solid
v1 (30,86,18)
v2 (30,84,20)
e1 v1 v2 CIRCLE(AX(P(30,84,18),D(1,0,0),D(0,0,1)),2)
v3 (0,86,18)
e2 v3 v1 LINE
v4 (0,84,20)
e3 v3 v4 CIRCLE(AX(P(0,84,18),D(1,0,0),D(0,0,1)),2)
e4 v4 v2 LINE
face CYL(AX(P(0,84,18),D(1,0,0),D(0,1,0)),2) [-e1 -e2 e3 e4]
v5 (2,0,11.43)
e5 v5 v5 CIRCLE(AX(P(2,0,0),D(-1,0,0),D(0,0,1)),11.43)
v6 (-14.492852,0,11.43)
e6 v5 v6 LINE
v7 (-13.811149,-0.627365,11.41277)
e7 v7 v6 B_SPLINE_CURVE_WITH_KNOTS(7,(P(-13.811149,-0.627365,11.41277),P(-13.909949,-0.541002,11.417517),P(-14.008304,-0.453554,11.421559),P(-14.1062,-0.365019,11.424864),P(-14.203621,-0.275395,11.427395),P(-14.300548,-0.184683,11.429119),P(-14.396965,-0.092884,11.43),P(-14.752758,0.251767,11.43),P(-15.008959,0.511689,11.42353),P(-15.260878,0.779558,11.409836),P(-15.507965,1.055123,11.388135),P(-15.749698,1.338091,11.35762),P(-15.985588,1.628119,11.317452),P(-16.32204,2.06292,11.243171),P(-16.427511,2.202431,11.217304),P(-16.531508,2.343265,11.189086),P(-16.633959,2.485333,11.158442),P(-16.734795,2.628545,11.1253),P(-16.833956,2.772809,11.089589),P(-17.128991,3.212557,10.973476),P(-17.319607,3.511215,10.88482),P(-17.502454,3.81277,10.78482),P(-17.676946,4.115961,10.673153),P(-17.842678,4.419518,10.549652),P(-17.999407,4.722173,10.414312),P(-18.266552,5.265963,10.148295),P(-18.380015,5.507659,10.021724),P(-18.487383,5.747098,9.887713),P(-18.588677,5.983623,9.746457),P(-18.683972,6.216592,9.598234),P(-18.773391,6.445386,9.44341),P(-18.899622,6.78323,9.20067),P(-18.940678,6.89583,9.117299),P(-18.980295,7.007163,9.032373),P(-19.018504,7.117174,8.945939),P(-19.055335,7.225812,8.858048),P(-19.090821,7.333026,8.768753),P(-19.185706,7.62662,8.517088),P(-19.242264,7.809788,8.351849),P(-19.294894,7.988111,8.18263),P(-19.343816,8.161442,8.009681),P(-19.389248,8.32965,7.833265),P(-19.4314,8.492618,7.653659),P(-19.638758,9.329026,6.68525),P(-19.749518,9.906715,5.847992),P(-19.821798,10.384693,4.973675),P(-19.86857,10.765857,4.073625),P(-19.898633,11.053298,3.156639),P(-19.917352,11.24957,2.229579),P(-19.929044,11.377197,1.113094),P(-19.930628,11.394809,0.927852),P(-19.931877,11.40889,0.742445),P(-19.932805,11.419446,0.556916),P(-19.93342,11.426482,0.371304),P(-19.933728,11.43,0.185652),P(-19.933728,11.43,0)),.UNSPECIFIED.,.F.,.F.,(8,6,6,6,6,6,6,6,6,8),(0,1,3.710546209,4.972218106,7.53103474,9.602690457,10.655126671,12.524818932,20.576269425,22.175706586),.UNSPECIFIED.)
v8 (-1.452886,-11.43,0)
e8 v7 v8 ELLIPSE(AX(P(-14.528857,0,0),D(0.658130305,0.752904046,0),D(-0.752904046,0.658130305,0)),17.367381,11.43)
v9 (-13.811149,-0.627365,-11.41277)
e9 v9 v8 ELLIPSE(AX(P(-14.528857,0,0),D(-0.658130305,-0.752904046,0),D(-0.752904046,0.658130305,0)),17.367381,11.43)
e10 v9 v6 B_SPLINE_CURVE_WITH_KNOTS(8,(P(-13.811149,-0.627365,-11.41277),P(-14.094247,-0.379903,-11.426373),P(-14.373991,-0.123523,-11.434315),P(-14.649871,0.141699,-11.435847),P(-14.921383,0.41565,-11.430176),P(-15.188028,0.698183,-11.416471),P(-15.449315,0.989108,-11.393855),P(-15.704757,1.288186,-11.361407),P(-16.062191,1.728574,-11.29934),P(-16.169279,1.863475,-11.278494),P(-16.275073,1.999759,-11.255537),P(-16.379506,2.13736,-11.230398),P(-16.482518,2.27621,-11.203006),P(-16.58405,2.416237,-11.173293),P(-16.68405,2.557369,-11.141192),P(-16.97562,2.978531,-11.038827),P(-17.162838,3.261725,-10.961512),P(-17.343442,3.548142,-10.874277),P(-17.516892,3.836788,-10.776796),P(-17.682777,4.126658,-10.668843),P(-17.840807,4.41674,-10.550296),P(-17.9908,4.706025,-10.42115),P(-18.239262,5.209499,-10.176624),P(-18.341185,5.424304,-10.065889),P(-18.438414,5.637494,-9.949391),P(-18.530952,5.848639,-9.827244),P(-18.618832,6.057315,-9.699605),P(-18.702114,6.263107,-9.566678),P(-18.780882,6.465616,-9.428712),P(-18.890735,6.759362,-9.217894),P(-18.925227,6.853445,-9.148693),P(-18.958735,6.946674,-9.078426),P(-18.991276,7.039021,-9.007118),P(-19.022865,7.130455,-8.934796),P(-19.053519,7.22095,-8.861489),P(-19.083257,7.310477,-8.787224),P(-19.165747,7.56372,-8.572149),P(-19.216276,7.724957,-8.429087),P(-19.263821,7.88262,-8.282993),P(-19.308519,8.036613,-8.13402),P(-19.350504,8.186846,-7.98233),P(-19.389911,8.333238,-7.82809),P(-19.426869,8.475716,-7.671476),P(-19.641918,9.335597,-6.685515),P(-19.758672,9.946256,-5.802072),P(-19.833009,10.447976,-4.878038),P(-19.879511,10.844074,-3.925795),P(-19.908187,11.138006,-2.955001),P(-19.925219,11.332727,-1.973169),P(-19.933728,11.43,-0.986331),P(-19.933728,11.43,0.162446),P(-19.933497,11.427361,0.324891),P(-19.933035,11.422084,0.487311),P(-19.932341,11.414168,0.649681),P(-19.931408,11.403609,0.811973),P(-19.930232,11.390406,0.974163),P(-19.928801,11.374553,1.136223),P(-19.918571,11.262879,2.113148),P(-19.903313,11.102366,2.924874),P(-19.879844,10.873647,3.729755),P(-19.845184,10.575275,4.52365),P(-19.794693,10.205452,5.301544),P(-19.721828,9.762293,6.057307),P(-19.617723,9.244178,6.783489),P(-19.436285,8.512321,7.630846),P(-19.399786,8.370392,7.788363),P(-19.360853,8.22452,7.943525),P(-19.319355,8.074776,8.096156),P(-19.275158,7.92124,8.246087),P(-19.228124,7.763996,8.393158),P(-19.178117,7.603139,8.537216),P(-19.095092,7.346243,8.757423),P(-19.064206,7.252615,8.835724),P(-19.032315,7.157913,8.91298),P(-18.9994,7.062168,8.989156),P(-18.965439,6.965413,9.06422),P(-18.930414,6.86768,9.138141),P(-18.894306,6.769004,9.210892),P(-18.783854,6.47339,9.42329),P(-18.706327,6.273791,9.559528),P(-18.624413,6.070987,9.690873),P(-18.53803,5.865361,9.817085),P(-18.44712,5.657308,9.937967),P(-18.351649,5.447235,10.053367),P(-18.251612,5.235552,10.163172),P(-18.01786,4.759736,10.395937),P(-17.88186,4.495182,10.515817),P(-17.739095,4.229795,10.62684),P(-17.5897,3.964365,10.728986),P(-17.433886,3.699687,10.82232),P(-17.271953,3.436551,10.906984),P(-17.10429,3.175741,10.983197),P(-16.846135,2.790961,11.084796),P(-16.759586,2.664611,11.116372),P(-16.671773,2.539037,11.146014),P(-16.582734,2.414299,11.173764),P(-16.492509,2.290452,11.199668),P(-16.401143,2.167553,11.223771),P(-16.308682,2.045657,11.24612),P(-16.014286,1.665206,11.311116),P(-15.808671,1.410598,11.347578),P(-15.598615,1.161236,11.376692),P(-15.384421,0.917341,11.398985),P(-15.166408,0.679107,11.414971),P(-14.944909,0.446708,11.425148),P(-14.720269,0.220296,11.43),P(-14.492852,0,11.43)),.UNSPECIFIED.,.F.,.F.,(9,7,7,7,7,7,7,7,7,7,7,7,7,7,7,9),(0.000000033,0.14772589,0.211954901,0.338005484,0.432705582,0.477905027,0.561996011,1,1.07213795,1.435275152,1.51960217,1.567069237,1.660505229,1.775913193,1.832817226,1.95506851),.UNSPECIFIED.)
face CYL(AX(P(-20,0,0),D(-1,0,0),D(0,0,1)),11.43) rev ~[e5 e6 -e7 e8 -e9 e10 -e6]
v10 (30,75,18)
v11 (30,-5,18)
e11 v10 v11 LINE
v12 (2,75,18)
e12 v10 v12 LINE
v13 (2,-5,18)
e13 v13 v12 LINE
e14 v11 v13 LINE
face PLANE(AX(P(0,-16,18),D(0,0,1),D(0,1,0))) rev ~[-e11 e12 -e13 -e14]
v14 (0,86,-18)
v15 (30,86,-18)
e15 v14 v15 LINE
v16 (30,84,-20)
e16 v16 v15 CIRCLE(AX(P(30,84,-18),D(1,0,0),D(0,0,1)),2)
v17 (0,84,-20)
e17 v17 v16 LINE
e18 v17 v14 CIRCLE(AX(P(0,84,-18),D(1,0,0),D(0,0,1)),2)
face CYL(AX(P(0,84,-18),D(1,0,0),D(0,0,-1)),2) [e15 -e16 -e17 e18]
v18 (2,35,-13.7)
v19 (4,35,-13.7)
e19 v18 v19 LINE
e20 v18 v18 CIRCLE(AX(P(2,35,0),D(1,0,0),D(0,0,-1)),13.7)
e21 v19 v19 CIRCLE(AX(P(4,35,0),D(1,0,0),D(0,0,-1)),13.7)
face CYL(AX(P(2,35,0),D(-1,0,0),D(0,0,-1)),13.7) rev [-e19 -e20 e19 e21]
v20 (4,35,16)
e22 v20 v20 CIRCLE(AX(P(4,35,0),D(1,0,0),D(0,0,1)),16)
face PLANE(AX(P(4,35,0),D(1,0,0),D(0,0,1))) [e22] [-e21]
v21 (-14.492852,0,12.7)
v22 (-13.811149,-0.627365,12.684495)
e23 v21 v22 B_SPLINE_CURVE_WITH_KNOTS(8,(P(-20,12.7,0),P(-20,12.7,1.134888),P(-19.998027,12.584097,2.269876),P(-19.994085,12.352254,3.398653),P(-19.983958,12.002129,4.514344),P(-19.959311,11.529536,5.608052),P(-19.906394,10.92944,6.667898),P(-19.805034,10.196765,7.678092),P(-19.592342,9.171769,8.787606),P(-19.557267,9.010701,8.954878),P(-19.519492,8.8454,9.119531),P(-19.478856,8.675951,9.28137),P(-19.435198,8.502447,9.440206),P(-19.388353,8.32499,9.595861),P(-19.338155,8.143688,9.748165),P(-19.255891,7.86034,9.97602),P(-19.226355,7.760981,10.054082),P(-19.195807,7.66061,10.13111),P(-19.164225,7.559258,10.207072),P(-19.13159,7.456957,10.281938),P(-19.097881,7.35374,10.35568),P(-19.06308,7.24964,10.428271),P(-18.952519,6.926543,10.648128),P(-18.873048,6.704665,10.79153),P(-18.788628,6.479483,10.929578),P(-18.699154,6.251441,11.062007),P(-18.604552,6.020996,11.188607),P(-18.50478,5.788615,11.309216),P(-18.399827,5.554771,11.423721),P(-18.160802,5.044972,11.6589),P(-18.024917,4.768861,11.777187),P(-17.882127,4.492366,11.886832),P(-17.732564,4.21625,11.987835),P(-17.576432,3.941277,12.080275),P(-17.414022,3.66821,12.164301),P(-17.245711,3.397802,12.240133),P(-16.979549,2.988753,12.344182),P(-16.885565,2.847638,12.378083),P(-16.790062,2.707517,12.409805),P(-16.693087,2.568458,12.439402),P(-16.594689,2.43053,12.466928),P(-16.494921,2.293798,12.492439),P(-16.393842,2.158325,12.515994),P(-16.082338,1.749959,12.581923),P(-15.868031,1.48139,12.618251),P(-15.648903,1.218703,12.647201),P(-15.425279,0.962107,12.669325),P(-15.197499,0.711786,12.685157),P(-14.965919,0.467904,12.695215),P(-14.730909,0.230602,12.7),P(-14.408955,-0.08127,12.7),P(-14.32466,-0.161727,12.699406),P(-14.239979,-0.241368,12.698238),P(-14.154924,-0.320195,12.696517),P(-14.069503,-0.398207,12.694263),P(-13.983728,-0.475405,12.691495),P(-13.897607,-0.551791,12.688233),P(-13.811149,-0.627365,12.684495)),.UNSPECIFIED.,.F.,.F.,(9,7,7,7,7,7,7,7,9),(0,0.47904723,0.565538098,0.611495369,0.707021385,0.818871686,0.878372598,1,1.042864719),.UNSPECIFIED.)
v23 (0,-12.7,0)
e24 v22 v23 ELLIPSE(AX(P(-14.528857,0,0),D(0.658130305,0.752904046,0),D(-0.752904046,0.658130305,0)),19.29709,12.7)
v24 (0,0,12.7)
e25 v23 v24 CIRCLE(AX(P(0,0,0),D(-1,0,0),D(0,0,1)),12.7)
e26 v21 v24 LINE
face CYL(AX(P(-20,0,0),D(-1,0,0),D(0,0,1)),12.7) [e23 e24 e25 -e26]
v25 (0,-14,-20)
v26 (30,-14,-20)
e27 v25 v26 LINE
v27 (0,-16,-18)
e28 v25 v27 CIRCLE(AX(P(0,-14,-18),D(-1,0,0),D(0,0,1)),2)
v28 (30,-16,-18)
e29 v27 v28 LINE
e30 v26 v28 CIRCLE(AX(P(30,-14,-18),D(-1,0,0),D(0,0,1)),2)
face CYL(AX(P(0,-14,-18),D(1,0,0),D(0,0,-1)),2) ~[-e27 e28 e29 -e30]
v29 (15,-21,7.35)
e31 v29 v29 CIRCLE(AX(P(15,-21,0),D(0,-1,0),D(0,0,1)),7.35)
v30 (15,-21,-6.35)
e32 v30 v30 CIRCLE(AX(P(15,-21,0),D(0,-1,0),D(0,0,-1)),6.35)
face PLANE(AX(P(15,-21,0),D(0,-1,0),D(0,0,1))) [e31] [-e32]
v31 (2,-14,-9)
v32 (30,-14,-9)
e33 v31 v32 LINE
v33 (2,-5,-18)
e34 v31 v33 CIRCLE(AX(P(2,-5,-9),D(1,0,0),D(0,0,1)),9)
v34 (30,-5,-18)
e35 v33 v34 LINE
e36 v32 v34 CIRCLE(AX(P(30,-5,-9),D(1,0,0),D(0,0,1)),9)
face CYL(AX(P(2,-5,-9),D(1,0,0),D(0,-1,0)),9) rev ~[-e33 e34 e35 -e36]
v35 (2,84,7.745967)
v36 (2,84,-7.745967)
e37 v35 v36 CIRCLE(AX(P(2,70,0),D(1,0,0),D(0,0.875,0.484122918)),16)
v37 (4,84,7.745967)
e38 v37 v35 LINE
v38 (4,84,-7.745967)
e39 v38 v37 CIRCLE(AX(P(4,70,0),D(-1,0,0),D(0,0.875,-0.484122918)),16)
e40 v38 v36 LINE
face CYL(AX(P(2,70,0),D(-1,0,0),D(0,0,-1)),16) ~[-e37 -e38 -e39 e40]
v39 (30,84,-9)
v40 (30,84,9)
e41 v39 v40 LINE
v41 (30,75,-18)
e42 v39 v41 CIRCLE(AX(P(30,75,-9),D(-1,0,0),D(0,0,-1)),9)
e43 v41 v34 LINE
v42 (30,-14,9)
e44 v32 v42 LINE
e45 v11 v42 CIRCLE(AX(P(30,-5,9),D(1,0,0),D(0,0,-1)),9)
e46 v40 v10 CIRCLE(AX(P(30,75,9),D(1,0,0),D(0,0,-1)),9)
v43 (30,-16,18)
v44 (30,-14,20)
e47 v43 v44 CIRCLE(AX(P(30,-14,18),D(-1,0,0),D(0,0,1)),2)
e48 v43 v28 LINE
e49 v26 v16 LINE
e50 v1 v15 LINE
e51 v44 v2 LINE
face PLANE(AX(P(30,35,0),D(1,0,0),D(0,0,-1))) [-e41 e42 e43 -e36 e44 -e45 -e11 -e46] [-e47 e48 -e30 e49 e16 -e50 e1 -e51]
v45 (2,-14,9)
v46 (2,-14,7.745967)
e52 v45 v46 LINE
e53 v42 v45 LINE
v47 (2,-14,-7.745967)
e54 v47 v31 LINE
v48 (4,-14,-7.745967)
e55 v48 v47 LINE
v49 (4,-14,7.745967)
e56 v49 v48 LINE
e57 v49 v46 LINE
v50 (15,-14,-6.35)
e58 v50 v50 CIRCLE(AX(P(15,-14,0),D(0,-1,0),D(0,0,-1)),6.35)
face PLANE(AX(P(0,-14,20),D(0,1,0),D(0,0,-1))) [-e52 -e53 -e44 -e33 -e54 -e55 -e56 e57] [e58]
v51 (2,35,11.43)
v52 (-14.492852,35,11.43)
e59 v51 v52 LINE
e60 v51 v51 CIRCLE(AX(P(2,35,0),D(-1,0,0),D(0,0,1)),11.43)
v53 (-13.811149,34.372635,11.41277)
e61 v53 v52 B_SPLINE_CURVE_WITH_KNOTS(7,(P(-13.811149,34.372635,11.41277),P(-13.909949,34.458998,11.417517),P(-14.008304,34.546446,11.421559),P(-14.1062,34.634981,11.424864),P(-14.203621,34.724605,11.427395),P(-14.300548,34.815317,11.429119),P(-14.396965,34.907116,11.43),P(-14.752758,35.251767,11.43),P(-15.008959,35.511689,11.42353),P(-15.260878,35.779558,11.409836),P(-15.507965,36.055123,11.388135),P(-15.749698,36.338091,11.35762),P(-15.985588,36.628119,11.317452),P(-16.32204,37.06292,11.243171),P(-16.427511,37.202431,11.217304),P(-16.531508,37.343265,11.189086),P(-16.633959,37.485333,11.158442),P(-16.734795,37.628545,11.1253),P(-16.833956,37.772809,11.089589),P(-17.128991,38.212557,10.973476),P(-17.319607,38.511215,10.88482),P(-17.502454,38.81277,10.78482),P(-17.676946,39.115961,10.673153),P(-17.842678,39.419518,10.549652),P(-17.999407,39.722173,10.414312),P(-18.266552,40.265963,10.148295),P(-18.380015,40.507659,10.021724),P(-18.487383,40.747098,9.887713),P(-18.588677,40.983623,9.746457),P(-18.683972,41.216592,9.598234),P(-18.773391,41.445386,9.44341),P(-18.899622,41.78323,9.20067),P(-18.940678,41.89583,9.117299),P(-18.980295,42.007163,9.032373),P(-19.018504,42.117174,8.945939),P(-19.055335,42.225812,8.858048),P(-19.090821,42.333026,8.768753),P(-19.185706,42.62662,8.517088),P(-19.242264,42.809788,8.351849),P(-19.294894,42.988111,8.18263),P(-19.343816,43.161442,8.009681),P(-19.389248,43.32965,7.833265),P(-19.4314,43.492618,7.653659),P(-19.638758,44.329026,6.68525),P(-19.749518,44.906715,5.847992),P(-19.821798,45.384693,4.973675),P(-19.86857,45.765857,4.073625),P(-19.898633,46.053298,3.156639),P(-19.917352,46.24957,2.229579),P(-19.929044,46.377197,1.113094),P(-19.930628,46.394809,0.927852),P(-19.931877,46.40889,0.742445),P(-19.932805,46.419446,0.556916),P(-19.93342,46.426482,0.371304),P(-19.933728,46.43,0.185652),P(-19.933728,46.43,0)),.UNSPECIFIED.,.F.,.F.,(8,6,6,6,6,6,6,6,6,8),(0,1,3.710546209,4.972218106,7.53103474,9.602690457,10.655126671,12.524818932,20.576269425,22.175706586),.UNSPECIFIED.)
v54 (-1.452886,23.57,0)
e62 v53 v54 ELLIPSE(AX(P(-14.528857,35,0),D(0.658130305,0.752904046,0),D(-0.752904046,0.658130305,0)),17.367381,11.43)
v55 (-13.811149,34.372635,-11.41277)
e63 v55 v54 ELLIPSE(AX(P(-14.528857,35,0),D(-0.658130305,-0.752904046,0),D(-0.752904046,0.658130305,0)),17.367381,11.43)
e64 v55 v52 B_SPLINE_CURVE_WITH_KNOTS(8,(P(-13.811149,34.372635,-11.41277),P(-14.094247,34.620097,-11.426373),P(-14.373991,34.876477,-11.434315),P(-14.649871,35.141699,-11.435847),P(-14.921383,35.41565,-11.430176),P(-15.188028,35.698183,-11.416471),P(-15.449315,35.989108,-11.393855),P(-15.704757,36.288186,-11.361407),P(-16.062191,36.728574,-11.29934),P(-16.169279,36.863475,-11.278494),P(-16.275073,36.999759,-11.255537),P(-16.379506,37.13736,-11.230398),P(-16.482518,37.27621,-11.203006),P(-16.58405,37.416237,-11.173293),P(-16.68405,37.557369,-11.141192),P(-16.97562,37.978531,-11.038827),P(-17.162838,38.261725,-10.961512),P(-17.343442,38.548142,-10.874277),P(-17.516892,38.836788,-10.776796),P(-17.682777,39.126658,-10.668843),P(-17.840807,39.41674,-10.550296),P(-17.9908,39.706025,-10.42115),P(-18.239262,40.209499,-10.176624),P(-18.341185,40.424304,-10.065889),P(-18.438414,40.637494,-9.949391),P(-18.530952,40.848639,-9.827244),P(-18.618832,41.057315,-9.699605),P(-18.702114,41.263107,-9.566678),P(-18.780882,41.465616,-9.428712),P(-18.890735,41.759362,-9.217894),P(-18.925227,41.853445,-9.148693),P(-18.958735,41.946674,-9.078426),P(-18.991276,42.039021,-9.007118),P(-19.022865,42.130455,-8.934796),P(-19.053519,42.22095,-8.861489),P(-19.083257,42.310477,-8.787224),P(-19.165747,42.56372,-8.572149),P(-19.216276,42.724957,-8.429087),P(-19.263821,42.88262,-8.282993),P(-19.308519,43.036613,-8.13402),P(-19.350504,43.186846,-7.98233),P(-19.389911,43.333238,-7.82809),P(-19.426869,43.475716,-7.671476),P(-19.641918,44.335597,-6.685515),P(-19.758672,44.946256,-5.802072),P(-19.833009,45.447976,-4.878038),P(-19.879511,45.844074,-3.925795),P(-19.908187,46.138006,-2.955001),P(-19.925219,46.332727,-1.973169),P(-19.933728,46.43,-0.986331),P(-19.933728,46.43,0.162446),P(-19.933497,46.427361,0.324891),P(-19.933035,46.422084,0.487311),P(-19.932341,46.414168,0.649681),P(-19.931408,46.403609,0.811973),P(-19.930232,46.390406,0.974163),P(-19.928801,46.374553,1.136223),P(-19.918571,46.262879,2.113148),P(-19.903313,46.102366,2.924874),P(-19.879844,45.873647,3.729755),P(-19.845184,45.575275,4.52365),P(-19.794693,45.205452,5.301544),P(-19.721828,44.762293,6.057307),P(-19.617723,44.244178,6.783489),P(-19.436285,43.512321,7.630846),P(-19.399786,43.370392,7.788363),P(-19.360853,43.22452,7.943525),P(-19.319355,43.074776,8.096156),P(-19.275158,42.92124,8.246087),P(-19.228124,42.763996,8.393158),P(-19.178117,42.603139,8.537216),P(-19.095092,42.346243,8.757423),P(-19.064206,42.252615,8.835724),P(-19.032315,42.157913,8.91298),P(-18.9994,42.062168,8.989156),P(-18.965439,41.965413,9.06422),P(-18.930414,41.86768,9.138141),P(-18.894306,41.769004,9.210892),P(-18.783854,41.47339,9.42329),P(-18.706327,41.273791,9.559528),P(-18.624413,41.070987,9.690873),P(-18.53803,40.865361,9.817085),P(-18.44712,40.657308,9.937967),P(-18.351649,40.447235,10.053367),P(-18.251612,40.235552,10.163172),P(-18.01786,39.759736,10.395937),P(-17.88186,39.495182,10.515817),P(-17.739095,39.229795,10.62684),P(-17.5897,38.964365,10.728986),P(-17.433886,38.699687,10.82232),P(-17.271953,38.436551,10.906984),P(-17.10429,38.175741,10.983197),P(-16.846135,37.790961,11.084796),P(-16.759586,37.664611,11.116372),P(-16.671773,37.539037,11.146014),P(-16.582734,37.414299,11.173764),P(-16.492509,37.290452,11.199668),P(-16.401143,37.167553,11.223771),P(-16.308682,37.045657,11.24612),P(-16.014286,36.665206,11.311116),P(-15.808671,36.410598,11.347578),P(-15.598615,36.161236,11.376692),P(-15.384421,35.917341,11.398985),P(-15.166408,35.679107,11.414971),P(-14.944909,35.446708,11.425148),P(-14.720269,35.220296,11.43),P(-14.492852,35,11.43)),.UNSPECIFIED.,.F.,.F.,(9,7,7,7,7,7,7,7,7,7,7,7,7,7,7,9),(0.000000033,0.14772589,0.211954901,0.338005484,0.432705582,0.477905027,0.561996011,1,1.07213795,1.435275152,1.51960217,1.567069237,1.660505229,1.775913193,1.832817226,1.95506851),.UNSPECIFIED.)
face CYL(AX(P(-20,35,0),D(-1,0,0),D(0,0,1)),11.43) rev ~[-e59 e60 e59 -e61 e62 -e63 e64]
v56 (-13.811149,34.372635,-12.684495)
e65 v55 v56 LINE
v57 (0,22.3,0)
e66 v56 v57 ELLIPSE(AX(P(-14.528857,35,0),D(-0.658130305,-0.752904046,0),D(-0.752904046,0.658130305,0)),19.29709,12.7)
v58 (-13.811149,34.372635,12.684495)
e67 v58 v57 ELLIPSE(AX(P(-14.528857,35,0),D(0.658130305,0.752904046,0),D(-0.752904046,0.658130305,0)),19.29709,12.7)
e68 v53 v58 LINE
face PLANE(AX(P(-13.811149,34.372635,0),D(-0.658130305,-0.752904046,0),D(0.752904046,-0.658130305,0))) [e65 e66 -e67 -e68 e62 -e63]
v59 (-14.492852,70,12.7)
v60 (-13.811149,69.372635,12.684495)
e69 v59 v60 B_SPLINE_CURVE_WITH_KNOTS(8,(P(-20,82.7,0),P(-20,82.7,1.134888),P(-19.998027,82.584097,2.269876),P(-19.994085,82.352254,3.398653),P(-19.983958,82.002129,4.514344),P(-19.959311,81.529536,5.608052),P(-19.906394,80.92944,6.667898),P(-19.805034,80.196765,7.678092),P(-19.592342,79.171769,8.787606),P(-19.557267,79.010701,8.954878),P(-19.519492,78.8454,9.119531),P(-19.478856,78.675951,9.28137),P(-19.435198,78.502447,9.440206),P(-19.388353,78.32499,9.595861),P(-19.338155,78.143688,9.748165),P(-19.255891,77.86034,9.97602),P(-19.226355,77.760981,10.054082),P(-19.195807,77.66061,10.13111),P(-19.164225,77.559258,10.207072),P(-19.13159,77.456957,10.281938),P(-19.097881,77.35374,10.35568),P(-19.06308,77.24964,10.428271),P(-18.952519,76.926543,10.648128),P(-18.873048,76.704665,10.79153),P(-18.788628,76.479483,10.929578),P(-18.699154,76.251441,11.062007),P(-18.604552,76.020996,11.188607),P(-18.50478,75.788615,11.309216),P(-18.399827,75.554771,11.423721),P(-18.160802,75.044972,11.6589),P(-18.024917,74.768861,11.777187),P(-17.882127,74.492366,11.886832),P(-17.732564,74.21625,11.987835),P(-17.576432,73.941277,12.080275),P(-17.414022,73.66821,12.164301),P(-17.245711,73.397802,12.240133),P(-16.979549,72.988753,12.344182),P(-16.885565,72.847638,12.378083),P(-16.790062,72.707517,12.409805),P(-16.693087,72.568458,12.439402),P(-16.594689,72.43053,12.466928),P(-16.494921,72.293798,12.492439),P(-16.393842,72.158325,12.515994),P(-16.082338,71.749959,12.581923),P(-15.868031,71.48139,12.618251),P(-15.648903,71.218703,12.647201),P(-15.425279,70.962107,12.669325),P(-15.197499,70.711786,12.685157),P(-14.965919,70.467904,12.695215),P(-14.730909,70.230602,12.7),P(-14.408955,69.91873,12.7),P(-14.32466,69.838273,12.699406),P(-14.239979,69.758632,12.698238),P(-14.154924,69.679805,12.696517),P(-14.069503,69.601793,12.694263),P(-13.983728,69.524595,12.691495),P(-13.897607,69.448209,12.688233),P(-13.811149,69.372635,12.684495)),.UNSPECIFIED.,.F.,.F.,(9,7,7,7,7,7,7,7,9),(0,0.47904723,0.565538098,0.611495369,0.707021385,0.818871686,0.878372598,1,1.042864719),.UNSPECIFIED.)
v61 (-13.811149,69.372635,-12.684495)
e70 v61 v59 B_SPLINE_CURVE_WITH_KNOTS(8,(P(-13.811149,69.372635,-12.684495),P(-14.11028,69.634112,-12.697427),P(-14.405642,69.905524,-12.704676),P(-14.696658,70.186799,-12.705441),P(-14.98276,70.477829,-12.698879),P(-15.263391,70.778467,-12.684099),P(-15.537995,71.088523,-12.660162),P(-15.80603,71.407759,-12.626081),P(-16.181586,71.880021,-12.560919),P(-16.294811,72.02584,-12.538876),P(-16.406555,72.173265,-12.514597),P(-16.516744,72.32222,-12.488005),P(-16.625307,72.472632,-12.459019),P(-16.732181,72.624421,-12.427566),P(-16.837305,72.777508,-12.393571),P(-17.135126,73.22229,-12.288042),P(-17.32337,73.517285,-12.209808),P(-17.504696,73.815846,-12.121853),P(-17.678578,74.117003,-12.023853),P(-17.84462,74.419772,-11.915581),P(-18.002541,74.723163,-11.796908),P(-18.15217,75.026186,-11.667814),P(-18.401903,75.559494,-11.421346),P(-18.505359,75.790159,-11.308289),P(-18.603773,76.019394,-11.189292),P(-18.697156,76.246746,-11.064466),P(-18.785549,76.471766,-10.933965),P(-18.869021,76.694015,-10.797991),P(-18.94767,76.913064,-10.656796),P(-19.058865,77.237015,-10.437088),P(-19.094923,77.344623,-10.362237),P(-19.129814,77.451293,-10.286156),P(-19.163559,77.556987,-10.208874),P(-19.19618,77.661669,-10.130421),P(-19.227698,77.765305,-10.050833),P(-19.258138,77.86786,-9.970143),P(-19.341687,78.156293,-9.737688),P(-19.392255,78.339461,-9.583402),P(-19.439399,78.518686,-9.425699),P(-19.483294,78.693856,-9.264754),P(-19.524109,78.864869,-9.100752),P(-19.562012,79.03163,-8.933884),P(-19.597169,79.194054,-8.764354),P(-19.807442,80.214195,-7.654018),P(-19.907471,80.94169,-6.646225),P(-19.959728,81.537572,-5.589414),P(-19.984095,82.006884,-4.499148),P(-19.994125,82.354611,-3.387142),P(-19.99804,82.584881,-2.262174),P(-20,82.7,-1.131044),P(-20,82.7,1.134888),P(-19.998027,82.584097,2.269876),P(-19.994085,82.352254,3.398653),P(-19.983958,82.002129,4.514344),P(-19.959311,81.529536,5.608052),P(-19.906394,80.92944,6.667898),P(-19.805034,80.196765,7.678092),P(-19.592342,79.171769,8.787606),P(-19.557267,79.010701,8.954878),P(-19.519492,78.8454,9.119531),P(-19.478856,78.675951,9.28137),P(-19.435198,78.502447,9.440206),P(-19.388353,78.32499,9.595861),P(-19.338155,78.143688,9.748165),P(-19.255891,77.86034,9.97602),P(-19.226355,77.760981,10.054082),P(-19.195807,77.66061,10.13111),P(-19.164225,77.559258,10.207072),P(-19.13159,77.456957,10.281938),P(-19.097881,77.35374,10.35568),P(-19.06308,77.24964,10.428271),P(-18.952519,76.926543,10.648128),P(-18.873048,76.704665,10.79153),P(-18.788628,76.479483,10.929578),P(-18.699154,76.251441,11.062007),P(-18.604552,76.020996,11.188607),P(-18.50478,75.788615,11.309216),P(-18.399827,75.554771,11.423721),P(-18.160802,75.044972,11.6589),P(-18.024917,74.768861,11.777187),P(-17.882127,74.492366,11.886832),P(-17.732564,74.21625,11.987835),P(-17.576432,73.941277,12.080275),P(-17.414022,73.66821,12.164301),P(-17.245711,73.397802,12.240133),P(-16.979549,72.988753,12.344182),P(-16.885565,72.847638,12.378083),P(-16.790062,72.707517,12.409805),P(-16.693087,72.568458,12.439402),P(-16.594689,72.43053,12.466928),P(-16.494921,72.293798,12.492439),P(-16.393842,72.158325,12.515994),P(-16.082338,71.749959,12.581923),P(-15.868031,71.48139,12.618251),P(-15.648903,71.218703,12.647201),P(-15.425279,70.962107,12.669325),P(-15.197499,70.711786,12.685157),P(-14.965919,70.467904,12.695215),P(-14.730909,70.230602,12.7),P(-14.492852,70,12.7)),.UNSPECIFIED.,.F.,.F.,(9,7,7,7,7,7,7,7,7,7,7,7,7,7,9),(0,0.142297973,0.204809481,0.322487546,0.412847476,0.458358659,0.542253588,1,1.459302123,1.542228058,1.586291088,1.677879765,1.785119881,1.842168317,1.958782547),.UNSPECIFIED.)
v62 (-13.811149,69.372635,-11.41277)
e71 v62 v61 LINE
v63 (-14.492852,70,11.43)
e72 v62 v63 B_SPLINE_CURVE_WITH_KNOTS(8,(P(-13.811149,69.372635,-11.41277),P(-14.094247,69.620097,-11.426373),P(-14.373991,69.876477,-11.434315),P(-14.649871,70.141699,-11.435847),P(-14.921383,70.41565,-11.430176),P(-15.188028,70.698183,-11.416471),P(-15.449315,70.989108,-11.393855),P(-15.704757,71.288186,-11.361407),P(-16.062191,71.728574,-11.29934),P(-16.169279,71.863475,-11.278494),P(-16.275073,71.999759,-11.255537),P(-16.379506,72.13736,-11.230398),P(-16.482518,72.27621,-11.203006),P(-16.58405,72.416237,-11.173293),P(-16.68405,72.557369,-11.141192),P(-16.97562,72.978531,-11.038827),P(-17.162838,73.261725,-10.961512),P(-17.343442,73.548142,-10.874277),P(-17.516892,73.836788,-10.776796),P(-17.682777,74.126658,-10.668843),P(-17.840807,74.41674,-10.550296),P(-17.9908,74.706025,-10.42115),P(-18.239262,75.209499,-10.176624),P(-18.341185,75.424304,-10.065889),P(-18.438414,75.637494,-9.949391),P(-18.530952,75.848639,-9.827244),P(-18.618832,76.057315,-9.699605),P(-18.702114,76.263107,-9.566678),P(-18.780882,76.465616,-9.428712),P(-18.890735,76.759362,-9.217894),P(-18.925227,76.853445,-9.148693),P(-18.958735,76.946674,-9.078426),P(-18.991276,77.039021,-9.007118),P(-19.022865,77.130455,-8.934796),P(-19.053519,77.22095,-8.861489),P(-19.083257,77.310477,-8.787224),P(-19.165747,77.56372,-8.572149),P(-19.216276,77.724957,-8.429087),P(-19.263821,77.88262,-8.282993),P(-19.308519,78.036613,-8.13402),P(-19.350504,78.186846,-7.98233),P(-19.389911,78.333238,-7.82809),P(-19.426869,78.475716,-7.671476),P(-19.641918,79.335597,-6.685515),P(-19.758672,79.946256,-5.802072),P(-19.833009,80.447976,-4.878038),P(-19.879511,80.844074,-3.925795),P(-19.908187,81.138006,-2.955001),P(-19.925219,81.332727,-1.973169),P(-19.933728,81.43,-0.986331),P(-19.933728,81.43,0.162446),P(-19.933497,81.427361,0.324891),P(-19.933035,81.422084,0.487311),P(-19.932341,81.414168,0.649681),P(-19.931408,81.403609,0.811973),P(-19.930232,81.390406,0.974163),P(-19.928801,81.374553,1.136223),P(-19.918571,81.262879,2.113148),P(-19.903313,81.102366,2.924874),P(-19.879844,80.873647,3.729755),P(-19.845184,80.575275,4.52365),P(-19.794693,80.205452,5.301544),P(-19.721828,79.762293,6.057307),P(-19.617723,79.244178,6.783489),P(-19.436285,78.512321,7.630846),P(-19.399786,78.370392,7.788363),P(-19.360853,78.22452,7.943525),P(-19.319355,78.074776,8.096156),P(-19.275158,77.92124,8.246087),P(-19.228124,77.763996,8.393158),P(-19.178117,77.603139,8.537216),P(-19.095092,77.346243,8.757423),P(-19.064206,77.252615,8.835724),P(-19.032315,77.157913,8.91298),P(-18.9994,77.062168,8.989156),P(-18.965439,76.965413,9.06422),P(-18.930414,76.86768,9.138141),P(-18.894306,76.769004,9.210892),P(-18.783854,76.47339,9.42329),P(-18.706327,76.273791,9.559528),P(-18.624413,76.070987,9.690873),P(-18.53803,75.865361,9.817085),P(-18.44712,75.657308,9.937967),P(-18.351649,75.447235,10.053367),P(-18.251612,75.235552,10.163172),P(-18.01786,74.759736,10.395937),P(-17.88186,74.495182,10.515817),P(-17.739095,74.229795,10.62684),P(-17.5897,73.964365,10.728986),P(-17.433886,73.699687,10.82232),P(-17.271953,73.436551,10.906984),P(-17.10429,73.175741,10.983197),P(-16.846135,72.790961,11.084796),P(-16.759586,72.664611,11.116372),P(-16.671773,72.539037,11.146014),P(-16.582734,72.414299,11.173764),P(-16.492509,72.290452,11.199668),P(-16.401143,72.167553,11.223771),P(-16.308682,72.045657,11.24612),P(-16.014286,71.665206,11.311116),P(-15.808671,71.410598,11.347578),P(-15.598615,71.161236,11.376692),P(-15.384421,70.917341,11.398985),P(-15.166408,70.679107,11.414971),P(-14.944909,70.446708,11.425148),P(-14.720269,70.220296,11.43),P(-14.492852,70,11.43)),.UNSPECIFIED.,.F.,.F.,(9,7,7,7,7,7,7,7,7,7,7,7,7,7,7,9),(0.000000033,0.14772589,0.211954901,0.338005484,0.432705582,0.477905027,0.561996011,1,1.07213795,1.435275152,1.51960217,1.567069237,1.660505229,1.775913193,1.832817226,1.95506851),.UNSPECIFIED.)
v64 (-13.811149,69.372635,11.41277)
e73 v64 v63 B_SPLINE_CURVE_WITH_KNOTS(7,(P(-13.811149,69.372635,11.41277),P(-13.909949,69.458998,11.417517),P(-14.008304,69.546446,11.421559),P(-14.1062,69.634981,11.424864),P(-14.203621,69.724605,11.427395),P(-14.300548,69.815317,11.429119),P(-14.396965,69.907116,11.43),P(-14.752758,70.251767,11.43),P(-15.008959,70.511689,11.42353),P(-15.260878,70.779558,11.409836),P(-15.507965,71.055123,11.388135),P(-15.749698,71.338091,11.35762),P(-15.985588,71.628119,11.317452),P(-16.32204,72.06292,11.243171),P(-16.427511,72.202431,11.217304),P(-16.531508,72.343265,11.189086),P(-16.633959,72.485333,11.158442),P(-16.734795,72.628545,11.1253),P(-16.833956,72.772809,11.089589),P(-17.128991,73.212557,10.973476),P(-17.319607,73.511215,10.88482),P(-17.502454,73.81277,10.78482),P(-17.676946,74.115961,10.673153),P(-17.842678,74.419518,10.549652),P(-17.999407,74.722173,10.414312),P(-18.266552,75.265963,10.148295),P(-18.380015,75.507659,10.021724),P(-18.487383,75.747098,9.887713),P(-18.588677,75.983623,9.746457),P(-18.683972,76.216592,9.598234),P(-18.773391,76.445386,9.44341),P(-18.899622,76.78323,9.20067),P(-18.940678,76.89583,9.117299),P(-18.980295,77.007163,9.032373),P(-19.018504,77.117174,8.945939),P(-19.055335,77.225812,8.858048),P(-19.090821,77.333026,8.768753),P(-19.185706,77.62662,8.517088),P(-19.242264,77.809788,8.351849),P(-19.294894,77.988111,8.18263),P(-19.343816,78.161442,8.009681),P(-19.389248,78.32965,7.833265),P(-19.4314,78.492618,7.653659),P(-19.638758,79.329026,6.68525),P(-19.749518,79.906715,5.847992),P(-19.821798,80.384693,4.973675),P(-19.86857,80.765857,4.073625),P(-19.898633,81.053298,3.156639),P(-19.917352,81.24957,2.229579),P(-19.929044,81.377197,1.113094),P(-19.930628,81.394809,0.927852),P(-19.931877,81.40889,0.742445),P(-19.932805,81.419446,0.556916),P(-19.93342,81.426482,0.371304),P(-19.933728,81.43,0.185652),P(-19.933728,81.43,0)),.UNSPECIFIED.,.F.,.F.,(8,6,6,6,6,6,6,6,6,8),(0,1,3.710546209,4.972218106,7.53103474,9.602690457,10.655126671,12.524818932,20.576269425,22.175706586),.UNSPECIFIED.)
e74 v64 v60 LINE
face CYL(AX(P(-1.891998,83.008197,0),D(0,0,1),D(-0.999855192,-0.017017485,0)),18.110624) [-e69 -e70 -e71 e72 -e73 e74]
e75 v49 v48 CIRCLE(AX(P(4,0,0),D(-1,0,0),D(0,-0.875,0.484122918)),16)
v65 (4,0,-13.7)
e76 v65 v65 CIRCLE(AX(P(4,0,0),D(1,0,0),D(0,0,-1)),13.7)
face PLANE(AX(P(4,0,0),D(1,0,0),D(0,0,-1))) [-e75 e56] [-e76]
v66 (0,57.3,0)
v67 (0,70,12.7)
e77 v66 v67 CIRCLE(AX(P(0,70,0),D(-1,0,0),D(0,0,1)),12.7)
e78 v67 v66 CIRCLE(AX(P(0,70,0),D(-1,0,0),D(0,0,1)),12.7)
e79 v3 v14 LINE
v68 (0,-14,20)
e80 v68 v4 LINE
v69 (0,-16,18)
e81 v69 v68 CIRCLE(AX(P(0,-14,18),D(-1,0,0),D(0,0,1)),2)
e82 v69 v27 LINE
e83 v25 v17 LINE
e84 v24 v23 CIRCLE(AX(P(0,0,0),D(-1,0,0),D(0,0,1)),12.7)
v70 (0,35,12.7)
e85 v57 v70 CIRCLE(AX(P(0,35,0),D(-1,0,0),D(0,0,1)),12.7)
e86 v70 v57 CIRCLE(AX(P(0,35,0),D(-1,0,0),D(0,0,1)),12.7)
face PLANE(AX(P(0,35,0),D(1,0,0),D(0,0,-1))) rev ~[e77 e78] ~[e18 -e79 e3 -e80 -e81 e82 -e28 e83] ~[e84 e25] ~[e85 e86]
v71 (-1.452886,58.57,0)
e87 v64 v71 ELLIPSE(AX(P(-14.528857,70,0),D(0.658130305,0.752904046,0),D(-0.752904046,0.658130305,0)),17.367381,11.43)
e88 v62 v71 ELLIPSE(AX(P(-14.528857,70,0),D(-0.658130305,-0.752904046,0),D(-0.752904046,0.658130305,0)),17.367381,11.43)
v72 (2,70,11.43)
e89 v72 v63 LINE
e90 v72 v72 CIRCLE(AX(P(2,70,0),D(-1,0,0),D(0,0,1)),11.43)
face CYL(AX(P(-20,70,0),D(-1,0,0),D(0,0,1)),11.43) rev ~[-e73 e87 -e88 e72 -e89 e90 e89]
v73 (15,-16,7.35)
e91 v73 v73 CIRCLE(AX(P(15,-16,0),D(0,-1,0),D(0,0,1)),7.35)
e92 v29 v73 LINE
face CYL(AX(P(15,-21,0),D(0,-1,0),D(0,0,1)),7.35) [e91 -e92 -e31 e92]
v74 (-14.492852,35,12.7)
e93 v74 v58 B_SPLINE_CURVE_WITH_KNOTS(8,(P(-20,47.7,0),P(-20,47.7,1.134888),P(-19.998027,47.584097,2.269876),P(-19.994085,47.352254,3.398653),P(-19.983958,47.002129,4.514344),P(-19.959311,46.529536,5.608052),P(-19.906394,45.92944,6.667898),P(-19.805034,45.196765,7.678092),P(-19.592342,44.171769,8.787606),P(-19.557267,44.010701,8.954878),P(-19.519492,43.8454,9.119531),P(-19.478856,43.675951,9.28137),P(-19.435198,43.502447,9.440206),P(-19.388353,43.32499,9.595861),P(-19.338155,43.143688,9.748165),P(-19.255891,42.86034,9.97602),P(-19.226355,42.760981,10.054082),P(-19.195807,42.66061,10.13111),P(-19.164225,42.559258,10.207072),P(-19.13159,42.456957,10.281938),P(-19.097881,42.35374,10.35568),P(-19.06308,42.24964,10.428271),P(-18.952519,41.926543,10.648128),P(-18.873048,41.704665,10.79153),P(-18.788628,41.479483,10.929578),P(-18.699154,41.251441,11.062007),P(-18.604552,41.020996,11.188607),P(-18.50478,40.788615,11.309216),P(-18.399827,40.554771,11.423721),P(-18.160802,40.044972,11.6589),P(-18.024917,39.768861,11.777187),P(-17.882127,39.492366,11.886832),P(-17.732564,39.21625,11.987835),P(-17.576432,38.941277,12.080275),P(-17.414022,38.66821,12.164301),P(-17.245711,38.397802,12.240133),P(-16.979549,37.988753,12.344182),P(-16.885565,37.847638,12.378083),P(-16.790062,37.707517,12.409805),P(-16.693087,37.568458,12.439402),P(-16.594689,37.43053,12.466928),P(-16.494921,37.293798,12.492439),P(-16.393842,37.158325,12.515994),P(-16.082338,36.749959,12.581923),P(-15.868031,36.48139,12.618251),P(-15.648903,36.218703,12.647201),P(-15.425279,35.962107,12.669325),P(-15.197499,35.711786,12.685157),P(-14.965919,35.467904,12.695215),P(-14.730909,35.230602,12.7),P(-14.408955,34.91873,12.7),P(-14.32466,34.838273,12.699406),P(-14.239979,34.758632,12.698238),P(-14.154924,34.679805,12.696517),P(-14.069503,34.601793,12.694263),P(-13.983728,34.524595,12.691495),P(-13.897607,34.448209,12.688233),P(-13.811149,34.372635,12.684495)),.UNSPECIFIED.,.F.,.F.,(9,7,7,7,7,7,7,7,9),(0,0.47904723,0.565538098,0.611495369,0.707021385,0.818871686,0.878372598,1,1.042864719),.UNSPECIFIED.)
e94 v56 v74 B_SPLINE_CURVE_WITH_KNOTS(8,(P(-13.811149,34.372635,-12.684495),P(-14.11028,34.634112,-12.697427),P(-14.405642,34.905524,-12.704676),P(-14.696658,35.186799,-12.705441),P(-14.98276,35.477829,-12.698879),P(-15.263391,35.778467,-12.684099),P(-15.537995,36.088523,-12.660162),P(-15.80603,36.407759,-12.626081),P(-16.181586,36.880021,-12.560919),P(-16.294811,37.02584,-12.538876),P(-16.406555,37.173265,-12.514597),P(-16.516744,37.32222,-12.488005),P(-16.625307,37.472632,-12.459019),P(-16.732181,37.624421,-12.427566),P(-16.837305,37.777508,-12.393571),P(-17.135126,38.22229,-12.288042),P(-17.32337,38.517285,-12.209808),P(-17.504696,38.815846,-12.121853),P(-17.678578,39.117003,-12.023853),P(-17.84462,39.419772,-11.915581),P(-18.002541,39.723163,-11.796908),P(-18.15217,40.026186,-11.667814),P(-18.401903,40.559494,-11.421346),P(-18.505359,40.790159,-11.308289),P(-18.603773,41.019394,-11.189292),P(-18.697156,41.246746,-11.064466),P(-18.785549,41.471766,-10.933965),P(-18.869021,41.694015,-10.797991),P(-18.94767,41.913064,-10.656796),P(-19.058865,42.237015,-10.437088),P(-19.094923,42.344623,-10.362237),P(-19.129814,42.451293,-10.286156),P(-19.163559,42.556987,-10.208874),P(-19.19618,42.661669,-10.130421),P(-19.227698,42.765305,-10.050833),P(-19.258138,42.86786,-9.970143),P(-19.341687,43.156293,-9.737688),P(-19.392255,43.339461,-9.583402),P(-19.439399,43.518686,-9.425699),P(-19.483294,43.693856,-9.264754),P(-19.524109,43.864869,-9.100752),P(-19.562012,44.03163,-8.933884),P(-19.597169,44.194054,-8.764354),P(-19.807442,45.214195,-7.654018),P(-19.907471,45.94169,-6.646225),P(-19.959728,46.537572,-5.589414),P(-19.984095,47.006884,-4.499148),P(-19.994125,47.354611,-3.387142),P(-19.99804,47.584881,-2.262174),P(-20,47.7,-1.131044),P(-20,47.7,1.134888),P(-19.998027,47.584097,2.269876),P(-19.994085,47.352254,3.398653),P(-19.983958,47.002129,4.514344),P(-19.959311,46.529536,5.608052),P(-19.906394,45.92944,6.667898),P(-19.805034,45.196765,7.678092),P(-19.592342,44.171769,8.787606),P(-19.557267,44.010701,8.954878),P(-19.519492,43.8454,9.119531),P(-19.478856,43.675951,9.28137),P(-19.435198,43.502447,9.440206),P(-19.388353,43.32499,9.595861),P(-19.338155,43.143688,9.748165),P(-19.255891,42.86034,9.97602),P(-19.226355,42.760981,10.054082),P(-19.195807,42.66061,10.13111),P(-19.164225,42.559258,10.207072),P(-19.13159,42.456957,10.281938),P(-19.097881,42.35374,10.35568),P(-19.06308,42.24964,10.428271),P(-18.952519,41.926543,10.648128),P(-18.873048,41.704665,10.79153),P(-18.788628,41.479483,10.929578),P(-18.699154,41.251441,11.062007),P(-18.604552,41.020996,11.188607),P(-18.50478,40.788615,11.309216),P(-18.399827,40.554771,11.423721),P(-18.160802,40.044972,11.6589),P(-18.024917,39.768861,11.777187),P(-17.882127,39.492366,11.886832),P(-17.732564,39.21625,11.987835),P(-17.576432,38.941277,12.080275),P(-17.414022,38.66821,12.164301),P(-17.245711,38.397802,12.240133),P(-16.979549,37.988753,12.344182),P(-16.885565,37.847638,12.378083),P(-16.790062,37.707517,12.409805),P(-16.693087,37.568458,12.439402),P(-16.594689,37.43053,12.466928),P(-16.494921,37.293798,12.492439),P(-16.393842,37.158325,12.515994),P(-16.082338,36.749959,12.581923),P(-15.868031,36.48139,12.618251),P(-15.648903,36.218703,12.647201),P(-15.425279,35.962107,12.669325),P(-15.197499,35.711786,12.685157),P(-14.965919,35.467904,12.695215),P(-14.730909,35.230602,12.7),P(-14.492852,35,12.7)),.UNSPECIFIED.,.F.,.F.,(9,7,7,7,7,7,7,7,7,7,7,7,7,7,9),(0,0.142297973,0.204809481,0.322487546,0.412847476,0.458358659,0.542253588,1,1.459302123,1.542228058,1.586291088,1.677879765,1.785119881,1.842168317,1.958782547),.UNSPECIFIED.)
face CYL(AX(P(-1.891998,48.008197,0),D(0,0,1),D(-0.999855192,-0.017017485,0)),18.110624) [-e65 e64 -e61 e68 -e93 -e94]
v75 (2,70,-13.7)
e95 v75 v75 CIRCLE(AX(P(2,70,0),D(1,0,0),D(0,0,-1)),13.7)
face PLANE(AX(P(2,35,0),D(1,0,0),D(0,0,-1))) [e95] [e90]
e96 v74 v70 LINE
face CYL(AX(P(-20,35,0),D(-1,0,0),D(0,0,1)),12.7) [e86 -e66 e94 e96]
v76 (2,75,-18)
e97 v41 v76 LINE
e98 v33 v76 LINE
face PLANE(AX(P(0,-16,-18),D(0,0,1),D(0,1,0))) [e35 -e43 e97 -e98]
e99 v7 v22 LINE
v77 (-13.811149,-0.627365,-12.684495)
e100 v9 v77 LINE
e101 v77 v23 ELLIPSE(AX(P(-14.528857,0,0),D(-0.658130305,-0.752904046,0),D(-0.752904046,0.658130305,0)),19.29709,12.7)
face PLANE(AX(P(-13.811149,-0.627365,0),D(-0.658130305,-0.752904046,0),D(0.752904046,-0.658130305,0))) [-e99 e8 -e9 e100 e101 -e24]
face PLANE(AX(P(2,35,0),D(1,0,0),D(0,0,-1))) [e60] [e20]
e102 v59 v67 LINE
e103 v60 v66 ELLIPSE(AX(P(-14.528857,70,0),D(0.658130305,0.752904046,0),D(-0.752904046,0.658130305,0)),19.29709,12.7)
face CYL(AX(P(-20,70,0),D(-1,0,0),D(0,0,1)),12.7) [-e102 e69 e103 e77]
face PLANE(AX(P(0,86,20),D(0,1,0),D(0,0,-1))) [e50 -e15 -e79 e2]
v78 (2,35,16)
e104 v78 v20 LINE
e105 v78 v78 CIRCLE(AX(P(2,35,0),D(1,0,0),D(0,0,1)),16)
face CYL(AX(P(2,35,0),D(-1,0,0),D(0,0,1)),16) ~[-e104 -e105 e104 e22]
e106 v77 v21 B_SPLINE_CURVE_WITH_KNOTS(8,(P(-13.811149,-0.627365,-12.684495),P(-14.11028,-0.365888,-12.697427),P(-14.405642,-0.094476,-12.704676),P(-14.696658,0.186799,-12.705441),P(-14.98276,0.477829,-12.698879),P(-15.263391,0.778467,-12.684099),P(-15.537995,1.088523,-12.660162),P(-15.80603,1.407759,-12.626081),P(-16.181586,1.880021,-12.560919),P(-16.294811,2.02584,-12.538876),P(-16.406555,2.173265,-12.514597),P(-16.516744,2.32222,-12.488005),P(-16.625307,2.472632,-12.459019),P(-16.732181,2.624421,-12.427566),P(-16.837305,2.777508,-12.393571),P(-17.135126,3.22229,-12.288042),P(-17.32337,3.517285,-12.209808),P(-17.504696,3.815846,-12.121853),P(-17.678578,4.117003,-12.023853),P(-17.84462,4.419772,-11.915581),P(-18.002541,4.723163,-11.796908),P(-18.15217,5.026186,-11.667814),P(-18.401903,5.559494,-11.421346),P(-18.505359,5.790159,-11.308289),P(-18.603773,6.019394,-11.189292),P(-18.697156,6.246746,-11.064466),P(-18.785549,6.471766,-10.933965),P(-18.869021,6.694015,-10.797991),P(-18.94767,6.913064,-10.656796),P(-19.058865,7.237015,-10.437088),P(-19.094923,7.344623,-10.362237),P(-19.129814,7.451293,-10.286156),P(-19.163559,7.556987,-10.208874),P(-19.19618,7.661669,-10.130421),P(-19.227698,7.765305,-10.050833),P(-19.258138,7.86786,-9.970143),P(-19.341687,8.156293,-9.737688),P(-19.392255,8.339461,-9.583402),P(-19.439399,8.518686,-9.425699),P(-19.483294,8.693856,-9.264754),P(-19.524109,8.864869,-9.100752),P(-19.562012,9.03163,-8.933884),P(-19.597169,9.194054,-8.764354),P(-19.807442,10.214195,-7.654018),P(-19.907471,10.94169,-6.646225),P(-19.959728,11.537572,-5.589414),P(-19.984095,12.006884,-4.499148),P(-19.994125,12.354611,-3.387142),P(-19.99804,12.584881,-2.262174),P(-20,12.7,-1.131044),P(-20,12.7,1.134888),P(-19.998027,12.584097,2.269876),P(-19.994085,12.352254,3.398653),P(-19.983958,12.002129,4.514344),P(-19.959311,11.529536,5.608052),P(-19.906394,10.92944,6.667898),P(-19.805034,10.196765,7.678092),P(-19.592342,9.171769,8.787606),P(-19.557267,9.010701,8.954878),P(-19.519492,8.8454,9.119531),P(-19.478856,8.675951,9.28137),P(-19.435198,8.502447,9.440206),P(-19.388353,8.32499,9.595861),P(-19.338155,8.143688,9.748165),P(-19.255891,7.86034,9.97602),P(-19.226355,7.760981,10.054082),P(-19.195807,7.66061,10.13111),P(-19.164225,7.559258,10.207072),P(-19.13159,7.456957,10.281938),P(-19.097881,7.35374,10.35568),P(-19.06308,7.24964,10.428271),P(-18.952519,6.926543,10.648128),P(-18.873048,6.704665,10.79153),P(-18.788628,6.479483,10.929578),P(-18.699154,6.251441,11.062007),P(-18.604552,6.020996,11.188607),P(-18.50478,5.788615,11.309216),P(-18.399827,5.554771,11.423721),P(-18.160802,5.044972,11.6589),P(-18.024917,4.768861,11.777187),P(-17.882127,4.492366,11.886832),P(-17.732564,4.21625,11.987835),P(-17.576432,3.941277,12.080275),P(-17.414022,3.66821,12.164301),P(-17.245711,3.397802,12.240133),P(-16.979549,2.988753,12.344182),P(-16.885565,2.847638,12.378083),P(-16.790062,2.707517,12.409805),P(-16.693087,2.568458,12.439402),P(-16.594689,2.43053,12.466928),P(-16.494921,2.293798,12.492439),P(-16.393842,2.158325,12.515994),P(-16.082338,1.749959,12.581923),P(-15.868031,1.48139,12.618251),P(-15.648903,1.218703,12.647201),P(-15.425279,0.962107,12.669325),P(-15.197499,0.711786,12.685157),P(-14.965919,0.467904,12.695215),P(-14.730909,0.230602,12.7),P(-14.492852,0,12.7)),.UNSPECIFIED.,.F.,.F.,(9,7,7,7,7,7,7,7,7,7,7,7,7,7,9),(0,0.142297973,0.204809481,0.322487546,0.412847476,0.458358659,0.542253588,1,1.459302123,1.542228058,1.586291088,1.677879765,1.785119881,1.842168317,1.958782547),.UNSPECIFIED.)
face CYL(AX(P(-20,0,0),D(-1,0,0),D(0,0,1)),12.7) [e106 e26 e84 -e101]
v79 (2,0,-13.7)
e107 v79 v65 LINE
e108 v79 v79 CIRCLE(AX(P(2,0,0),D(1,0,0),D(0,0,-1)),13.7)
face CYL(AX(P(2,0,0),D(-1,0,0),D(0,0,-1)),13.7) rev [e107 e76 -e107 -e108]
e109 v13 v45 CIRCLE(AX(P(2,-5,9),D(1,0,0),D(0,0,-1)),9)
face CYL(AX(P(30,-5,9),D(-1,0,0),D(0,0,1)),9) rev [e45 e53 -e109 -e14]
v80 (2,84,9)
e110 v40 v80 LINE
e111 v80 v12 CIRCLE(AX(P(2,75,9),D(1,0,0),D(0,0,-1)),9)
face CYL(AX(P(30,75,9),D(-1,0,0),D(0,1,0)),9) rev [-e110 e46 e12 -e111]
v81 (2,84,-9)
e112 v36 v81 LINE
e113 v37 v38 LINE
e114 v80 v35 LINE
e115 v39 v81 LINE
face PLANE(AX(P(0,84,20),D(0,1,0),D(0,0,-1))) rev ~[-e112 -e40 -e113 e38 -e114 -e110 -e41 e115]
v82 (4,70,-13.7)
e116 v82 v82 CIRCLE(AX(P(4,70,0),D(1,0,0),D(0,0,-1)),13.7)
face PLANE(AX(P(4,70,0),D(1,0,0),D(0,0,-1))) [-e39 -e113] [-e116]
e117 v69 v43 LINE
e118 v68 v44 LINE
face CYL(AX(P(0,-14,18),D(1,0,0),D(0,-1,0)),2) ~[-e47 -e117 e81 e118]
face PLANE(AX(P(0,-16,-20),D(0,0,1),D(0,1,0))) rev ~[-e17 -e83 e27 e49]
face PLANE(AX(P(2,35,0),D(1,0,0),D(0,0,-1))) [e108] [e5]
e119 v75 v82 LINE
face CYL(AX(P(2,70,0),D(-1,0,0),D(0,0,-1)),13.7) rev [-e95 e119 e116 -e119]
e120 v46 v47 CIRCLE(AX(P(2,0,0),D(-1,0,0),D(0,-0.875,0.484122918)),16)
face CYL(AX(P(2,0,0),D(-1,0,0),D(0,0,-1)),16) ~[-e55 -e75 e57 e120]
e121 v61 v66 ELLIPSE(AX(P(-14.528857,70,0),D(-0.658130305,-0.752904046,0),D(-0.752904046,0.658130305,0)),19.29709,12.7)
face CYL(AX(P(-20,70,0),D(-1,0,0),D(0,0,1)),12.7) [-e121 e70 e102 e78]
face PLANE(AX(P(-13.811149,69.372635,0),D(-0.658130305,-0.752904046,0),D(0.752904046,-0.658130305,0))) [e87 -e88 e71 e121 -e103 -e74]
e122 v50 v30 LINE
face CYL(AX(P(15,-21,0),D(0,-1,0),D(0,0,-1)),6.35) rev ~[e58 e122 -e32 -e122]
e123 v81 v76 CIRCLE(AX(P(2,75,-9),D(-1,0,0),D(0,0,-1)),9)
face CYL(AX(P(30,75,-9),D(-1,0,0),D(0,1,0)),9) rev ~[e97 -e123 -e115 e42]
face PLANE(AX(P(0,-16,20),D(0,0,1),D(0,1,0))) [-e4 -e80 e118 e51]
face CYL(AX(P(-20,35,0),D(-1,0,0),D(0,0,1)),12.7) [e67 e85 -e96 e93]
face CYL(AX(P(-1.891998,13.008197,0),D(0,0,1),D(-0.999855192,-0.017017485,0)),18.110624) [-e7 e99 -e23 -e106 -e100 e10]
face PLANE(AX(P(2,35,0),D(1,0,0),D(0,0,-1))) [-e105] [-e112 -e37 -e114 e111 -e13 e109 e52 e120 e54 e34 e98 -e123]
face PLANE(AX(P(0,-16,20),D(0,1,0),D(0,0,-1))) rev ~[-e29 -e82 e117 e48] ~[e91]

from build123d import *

# Parameters (mm, degrees)
SKETCH1_W                      = 40
SKETCH1_H                      = 102
BOSS_EXTRUDE1_DEPTH            = 30
SHELL1_T                       = -2
CUT_EXTRUDE1_REACH             = 95.252
SKETCH2_R                      = 11.43
BOSS_EXTRUDE2_START            = 20
SKETCH3_R                      = 12.7
SKETCH3_R_2                    = 11.43
BOSS_EXTRUDE2_DEPTH            = 20
CUT_EXTRUDE2_REACH             = 95.252
CUT_EXTRUDE2_DIRECTION_2_REACH = 95.252
LPATTERN1_COUNT                = 3
LPATTERN1_PITCH                = 35
SKETCH5_R                      = 16
SKETCH5_R_2                    = 13.7
BOSS_EXTRUDE3_DEPTH            = 2
FILLET1_R                      = 2
CUT_EXTRUDE3_REACH             = 110.185
SKETCH6_R                      = 6.35
BOSS_EXTRUDE4_START            = 5
SKETCH7_R                      = 7.35
SKETCH7_R_2                    = 6.35
BOSS_EXTRUDE4_DEPTH            = 5
FILLET6_R                      = 9


with BuildPart() as part:
    # Sketch1 → Boss-Extrude1 (new body)
    with BuildSketch(Plane(origin=(0, 0, 0), x_dir=(0, 0, -1), z_dir=(1, 0, 0))):
        with Locations((0, 35)):
            Rectangle(SKETCH1_W, SKETCH1_H)
    extrude(amount=BOSS_EXTRUDE1_DEPTH)

    # Shell1
    shell1_openings = [part.faces().sort_by_distance(p)[0] for p in [
        (30, 35, 0),
    ]]
    offset(amount=SHELL1_T, openings=shell1_openings, kind=Kind.INTERSECTION)

    # Sketch2 → Cut-Extrude1 (cut, up to next)
    with BuildSketch(Plane.ZY, mode=Mode.PRIVATE) as cut_extrude1_sk1:
        Circle(SKETCH2_R)
    cut_extrude1_tool1 = extrude(cut_extrude1_sk1.sketch, amount=-CUT_EXTRUDE1_REACH, mode=Mode.PRIVATE) & part.part
    # Sketch2 → Cut-Extrude1 (cut, up to next)
    with BuildSketch(Plane.ZY, mode=Mode.PRIVATE) as cut_extrude1_sk2:
        with Locations((0, 35)):
            Circle(SKETCH2_R)
    cut_extrude1_tool2 = extrude(cut_extrude1_sk2.sketch, amount=-CUT_EXTRUDE1_REACH, mode=Mode.PRIVATE) & part.part
    # Sketch2 → Cut-Extrude1 (cut, up to next)
    with BuildSketch(Plane.ZY, mode=Mode.PRIVATE) as cut_extrude1_sk3:
        with Locations((0, 70)):
            Circle(SKETCH2_R)
    cut_extrude1_tool3 = extrude(cut_extrude1_sk3.sketch, amount=-CUT_EXTRUDE1_REACH, mode=Mode.PRIVATE) & part.part
    add(cut_extrude1_tool1.solids().sort_by_distance((0, 0, 0))[0], mode=Mode.SUBTRACT)
    add(cut_extrude1_tool2.solids().sort_by_distance((0, 35, 0))[0], mode=Mode.SUBTRACT)
    add(cut_extrude1_tool3.solids().sort_by_distance((0, 70, 0))[0], mode=Mode.SUBTRACT)

    # Sketch3 → Boss-Extrude2 (add)
    # profile 1 of 3: a face of its own
    with BuildSketch(Plane.ZY.offset(BOSS_EXTRUDE2_START)):
        Circle(SKETCH3_R)
        Circle(SKETCH3_R_2, mode=Mode.SUBTRACT)
    # profile 2 of 3: a face of its own
    with BuildSketch(Plane.ZY.offset(BOSS_EXTRUDE2_START)):
        with Locations((0, 35)):
            Circle(SKETCH3_R)
        with Locations((0, 35)):
            Circle(SKETCH3_R_2, mode=Mode.SUBTRACT)
    # profile 3 of 3: a face of its own
    with BuildSketch(Plane.ZY.offset(BOSS_EXTRUDE2_START)):
        with Locations((0, 70)):
            Circle(SKETCH3_R)
        with Locations((0, 70)):
            Circle(SKETCH3_R_2, mode=Mode.SUBTRACT)
    extrude(amount=-BOSS_EXTRUDE2_DEPTH)

    # Sketch4 → Cut-Extrude2 (cut, up to next)
    with BuildSketch(Plane.XY, mode=Mode.PRIVATE) as cut_extrude2_sk1:
        with BuildLine():
            ThreePointArc((-20, 82.7), (-18.317957439, 75.380446755), (-13.811148901, 69.372634868))
            Line((-13.811148901, 69.372634868), (0, 57.3))
            Line((0, 57.3), (-20, 57.3))
            Line((-20, 57.3), (-20, 82.7))
        make_face()
    cut_extrude2_tool1 = extrude(cut_extrude2_sk1.sketch, amount=-CUT_EXTRUDE2_REACH, mode=Mode.PRIVATE) & part.part
    cut_extrude2 = cut_extrude2_tool1.solids().sort_by_distance((-13.600187, 63.733143, 0))[0]
    add(cut_extrude2, mode=Mode.SUBTRACT)

    # Sketch4 → Cut-Extrude2 direction 2 (cut, up to next)
    with BuildSketch(Plane.XY, mode=Mode.PRIVATE) as cut_extrude2_direction_2_sk1:
        with BuildLine():
            ThreePointArc((-20, 82.7), (-18.317957439, 75.380446755), (-13.811148901, 69.372634868))
            Line((-13.811148901, 69.372634868), (0, 57.3))
            Line((0, 57.3), (-20, 57.3))
            Line((-20, 57.3), (-20, 82.7))
        make_face()
    cut_extrude2_direction_2_tool1 = extrude(cut_extrude2_direction_2_sk1.sketch, amount=CUT_EXTRUDE2_DIRECTION_2_REACH, mode=Mode.PRIVATE) & part.part
    cut_extrude2_direction_2 = cut_extrude2_direction_2_tool1.solids().sort_by_distance((-13.600187, 63.733143, 0))[0]
    add(cut_extrude2_direction_2, mode=Mode.SUBTRACT)

    # LPattern1: Cut-Extrude2, Cut-Extrude2 direction 2 ×3
    with Locations(*[(0, -i * LPATTERN1_PITCH, 0) for i in range(1, LPATTERN1_COUNT)]):
        add(cut_extrude2, mode=Mode.SUBTRACT)
        add(cut_extrude2_direction_2, mode=Mode.SUBTRACT)

    # Sketch5 → Boss-Extrude3 (add)
    # profile 1 of 3: a face of its own
    with BuildSketch(Plane(origin=(2, 0, 0), x_dir=(0, 0, -1), z_dir=(1, 0, 0))):
        with Locations((0, 70)):
            Circle(SKETCH5_R)
        with Locations((0, 70)):
            Circle(SKETCH5_R_2, mode=Mode.SUBTRACT)
    # profile 2 of 3: a face of its own
    with BuildSketch(Plane(origin=(2, 0, 0), x_dir=(0, 0, -1), z_dir=(1, 0, 0))):
        with Locations(Location((0, 35, 0), (0, 0, 180))):
            Circle(SKETCH5_R)
        with Locations((0, 35)):
            Circle(SKETCH5_R_2, mode=Mode.SUBTRACT)
    # profile 3 of 3: a face of its own
    with BuildSketch(Plane(origin=(2, 0, 0), x_dir=(0, 0, -1), z_dir=(1, 0, 0))):
        Circle(SKETCH5_R)
        Circle(SKETCH5_R_2, mode=Mode.SUBTRACT)
    extrude(amount=BOSS_EXTRUDE3_DEPTH)

    # Fillet1
    fillet1_edges = [part.edges().sort_by_distance(p)[0] for p in [
        (15, 86, 20),
        (15, -16, 20),
        (15, -16, -20),
        (15, 86, -20),
    ]]
    fillet(fillet1_edges, radius=FILLET1_R)

    # Sketch6 → Cut-Extrude3 (cut, up to next)
    with BuildSketch(Plane.XZ.offset(16), mode=Mode.PRIVATE) as cut_extrude3_sk1:
        with Locations(Location((15, 0, 0), (0, 0, 270))):
            Circle(SKETCH6_R)
    cut_extrude3_tool1 = extrude(cut_extrude3_sk1.sketch, amount=-CUT_EXTRUDE3_REACH, mode=Mode.PRIVATE) & part.part
    add(cut_extrude3_tool1.solids().sort_by_distance((15, -16, 0))[0], mode=Mode.SUBTRACT)

    # Sketch7 → Boss-Extrude4 (add)
    with BuildSketch(Plane.XZ.offset(16).offset(BOSS_EXTRUDE4_START)):
        with Locations(Location((15, 0, 0), (0, 0, 90))):
            Circle(SKETCH7_R)
        with Locations(Location((15, 0, 0), (0, 0, 270))):
            Circle(SKETCH7_R_2, mode=Mode.SUBTRACT)
    extrude(amount=-BOSS_EXTRUDE4_DEPTH)

    # Fillet6
    fillet6_edges = [part.edges().sort_by_distance(p)[0] for p in [
        (16, 84, -18),
        (16, 84, 18),
        (16, -14, 18),
        (16, -14, -18),
    ]]
    fillet(fillet6_edges, radius=FILLET6_R)


solid = part.part
